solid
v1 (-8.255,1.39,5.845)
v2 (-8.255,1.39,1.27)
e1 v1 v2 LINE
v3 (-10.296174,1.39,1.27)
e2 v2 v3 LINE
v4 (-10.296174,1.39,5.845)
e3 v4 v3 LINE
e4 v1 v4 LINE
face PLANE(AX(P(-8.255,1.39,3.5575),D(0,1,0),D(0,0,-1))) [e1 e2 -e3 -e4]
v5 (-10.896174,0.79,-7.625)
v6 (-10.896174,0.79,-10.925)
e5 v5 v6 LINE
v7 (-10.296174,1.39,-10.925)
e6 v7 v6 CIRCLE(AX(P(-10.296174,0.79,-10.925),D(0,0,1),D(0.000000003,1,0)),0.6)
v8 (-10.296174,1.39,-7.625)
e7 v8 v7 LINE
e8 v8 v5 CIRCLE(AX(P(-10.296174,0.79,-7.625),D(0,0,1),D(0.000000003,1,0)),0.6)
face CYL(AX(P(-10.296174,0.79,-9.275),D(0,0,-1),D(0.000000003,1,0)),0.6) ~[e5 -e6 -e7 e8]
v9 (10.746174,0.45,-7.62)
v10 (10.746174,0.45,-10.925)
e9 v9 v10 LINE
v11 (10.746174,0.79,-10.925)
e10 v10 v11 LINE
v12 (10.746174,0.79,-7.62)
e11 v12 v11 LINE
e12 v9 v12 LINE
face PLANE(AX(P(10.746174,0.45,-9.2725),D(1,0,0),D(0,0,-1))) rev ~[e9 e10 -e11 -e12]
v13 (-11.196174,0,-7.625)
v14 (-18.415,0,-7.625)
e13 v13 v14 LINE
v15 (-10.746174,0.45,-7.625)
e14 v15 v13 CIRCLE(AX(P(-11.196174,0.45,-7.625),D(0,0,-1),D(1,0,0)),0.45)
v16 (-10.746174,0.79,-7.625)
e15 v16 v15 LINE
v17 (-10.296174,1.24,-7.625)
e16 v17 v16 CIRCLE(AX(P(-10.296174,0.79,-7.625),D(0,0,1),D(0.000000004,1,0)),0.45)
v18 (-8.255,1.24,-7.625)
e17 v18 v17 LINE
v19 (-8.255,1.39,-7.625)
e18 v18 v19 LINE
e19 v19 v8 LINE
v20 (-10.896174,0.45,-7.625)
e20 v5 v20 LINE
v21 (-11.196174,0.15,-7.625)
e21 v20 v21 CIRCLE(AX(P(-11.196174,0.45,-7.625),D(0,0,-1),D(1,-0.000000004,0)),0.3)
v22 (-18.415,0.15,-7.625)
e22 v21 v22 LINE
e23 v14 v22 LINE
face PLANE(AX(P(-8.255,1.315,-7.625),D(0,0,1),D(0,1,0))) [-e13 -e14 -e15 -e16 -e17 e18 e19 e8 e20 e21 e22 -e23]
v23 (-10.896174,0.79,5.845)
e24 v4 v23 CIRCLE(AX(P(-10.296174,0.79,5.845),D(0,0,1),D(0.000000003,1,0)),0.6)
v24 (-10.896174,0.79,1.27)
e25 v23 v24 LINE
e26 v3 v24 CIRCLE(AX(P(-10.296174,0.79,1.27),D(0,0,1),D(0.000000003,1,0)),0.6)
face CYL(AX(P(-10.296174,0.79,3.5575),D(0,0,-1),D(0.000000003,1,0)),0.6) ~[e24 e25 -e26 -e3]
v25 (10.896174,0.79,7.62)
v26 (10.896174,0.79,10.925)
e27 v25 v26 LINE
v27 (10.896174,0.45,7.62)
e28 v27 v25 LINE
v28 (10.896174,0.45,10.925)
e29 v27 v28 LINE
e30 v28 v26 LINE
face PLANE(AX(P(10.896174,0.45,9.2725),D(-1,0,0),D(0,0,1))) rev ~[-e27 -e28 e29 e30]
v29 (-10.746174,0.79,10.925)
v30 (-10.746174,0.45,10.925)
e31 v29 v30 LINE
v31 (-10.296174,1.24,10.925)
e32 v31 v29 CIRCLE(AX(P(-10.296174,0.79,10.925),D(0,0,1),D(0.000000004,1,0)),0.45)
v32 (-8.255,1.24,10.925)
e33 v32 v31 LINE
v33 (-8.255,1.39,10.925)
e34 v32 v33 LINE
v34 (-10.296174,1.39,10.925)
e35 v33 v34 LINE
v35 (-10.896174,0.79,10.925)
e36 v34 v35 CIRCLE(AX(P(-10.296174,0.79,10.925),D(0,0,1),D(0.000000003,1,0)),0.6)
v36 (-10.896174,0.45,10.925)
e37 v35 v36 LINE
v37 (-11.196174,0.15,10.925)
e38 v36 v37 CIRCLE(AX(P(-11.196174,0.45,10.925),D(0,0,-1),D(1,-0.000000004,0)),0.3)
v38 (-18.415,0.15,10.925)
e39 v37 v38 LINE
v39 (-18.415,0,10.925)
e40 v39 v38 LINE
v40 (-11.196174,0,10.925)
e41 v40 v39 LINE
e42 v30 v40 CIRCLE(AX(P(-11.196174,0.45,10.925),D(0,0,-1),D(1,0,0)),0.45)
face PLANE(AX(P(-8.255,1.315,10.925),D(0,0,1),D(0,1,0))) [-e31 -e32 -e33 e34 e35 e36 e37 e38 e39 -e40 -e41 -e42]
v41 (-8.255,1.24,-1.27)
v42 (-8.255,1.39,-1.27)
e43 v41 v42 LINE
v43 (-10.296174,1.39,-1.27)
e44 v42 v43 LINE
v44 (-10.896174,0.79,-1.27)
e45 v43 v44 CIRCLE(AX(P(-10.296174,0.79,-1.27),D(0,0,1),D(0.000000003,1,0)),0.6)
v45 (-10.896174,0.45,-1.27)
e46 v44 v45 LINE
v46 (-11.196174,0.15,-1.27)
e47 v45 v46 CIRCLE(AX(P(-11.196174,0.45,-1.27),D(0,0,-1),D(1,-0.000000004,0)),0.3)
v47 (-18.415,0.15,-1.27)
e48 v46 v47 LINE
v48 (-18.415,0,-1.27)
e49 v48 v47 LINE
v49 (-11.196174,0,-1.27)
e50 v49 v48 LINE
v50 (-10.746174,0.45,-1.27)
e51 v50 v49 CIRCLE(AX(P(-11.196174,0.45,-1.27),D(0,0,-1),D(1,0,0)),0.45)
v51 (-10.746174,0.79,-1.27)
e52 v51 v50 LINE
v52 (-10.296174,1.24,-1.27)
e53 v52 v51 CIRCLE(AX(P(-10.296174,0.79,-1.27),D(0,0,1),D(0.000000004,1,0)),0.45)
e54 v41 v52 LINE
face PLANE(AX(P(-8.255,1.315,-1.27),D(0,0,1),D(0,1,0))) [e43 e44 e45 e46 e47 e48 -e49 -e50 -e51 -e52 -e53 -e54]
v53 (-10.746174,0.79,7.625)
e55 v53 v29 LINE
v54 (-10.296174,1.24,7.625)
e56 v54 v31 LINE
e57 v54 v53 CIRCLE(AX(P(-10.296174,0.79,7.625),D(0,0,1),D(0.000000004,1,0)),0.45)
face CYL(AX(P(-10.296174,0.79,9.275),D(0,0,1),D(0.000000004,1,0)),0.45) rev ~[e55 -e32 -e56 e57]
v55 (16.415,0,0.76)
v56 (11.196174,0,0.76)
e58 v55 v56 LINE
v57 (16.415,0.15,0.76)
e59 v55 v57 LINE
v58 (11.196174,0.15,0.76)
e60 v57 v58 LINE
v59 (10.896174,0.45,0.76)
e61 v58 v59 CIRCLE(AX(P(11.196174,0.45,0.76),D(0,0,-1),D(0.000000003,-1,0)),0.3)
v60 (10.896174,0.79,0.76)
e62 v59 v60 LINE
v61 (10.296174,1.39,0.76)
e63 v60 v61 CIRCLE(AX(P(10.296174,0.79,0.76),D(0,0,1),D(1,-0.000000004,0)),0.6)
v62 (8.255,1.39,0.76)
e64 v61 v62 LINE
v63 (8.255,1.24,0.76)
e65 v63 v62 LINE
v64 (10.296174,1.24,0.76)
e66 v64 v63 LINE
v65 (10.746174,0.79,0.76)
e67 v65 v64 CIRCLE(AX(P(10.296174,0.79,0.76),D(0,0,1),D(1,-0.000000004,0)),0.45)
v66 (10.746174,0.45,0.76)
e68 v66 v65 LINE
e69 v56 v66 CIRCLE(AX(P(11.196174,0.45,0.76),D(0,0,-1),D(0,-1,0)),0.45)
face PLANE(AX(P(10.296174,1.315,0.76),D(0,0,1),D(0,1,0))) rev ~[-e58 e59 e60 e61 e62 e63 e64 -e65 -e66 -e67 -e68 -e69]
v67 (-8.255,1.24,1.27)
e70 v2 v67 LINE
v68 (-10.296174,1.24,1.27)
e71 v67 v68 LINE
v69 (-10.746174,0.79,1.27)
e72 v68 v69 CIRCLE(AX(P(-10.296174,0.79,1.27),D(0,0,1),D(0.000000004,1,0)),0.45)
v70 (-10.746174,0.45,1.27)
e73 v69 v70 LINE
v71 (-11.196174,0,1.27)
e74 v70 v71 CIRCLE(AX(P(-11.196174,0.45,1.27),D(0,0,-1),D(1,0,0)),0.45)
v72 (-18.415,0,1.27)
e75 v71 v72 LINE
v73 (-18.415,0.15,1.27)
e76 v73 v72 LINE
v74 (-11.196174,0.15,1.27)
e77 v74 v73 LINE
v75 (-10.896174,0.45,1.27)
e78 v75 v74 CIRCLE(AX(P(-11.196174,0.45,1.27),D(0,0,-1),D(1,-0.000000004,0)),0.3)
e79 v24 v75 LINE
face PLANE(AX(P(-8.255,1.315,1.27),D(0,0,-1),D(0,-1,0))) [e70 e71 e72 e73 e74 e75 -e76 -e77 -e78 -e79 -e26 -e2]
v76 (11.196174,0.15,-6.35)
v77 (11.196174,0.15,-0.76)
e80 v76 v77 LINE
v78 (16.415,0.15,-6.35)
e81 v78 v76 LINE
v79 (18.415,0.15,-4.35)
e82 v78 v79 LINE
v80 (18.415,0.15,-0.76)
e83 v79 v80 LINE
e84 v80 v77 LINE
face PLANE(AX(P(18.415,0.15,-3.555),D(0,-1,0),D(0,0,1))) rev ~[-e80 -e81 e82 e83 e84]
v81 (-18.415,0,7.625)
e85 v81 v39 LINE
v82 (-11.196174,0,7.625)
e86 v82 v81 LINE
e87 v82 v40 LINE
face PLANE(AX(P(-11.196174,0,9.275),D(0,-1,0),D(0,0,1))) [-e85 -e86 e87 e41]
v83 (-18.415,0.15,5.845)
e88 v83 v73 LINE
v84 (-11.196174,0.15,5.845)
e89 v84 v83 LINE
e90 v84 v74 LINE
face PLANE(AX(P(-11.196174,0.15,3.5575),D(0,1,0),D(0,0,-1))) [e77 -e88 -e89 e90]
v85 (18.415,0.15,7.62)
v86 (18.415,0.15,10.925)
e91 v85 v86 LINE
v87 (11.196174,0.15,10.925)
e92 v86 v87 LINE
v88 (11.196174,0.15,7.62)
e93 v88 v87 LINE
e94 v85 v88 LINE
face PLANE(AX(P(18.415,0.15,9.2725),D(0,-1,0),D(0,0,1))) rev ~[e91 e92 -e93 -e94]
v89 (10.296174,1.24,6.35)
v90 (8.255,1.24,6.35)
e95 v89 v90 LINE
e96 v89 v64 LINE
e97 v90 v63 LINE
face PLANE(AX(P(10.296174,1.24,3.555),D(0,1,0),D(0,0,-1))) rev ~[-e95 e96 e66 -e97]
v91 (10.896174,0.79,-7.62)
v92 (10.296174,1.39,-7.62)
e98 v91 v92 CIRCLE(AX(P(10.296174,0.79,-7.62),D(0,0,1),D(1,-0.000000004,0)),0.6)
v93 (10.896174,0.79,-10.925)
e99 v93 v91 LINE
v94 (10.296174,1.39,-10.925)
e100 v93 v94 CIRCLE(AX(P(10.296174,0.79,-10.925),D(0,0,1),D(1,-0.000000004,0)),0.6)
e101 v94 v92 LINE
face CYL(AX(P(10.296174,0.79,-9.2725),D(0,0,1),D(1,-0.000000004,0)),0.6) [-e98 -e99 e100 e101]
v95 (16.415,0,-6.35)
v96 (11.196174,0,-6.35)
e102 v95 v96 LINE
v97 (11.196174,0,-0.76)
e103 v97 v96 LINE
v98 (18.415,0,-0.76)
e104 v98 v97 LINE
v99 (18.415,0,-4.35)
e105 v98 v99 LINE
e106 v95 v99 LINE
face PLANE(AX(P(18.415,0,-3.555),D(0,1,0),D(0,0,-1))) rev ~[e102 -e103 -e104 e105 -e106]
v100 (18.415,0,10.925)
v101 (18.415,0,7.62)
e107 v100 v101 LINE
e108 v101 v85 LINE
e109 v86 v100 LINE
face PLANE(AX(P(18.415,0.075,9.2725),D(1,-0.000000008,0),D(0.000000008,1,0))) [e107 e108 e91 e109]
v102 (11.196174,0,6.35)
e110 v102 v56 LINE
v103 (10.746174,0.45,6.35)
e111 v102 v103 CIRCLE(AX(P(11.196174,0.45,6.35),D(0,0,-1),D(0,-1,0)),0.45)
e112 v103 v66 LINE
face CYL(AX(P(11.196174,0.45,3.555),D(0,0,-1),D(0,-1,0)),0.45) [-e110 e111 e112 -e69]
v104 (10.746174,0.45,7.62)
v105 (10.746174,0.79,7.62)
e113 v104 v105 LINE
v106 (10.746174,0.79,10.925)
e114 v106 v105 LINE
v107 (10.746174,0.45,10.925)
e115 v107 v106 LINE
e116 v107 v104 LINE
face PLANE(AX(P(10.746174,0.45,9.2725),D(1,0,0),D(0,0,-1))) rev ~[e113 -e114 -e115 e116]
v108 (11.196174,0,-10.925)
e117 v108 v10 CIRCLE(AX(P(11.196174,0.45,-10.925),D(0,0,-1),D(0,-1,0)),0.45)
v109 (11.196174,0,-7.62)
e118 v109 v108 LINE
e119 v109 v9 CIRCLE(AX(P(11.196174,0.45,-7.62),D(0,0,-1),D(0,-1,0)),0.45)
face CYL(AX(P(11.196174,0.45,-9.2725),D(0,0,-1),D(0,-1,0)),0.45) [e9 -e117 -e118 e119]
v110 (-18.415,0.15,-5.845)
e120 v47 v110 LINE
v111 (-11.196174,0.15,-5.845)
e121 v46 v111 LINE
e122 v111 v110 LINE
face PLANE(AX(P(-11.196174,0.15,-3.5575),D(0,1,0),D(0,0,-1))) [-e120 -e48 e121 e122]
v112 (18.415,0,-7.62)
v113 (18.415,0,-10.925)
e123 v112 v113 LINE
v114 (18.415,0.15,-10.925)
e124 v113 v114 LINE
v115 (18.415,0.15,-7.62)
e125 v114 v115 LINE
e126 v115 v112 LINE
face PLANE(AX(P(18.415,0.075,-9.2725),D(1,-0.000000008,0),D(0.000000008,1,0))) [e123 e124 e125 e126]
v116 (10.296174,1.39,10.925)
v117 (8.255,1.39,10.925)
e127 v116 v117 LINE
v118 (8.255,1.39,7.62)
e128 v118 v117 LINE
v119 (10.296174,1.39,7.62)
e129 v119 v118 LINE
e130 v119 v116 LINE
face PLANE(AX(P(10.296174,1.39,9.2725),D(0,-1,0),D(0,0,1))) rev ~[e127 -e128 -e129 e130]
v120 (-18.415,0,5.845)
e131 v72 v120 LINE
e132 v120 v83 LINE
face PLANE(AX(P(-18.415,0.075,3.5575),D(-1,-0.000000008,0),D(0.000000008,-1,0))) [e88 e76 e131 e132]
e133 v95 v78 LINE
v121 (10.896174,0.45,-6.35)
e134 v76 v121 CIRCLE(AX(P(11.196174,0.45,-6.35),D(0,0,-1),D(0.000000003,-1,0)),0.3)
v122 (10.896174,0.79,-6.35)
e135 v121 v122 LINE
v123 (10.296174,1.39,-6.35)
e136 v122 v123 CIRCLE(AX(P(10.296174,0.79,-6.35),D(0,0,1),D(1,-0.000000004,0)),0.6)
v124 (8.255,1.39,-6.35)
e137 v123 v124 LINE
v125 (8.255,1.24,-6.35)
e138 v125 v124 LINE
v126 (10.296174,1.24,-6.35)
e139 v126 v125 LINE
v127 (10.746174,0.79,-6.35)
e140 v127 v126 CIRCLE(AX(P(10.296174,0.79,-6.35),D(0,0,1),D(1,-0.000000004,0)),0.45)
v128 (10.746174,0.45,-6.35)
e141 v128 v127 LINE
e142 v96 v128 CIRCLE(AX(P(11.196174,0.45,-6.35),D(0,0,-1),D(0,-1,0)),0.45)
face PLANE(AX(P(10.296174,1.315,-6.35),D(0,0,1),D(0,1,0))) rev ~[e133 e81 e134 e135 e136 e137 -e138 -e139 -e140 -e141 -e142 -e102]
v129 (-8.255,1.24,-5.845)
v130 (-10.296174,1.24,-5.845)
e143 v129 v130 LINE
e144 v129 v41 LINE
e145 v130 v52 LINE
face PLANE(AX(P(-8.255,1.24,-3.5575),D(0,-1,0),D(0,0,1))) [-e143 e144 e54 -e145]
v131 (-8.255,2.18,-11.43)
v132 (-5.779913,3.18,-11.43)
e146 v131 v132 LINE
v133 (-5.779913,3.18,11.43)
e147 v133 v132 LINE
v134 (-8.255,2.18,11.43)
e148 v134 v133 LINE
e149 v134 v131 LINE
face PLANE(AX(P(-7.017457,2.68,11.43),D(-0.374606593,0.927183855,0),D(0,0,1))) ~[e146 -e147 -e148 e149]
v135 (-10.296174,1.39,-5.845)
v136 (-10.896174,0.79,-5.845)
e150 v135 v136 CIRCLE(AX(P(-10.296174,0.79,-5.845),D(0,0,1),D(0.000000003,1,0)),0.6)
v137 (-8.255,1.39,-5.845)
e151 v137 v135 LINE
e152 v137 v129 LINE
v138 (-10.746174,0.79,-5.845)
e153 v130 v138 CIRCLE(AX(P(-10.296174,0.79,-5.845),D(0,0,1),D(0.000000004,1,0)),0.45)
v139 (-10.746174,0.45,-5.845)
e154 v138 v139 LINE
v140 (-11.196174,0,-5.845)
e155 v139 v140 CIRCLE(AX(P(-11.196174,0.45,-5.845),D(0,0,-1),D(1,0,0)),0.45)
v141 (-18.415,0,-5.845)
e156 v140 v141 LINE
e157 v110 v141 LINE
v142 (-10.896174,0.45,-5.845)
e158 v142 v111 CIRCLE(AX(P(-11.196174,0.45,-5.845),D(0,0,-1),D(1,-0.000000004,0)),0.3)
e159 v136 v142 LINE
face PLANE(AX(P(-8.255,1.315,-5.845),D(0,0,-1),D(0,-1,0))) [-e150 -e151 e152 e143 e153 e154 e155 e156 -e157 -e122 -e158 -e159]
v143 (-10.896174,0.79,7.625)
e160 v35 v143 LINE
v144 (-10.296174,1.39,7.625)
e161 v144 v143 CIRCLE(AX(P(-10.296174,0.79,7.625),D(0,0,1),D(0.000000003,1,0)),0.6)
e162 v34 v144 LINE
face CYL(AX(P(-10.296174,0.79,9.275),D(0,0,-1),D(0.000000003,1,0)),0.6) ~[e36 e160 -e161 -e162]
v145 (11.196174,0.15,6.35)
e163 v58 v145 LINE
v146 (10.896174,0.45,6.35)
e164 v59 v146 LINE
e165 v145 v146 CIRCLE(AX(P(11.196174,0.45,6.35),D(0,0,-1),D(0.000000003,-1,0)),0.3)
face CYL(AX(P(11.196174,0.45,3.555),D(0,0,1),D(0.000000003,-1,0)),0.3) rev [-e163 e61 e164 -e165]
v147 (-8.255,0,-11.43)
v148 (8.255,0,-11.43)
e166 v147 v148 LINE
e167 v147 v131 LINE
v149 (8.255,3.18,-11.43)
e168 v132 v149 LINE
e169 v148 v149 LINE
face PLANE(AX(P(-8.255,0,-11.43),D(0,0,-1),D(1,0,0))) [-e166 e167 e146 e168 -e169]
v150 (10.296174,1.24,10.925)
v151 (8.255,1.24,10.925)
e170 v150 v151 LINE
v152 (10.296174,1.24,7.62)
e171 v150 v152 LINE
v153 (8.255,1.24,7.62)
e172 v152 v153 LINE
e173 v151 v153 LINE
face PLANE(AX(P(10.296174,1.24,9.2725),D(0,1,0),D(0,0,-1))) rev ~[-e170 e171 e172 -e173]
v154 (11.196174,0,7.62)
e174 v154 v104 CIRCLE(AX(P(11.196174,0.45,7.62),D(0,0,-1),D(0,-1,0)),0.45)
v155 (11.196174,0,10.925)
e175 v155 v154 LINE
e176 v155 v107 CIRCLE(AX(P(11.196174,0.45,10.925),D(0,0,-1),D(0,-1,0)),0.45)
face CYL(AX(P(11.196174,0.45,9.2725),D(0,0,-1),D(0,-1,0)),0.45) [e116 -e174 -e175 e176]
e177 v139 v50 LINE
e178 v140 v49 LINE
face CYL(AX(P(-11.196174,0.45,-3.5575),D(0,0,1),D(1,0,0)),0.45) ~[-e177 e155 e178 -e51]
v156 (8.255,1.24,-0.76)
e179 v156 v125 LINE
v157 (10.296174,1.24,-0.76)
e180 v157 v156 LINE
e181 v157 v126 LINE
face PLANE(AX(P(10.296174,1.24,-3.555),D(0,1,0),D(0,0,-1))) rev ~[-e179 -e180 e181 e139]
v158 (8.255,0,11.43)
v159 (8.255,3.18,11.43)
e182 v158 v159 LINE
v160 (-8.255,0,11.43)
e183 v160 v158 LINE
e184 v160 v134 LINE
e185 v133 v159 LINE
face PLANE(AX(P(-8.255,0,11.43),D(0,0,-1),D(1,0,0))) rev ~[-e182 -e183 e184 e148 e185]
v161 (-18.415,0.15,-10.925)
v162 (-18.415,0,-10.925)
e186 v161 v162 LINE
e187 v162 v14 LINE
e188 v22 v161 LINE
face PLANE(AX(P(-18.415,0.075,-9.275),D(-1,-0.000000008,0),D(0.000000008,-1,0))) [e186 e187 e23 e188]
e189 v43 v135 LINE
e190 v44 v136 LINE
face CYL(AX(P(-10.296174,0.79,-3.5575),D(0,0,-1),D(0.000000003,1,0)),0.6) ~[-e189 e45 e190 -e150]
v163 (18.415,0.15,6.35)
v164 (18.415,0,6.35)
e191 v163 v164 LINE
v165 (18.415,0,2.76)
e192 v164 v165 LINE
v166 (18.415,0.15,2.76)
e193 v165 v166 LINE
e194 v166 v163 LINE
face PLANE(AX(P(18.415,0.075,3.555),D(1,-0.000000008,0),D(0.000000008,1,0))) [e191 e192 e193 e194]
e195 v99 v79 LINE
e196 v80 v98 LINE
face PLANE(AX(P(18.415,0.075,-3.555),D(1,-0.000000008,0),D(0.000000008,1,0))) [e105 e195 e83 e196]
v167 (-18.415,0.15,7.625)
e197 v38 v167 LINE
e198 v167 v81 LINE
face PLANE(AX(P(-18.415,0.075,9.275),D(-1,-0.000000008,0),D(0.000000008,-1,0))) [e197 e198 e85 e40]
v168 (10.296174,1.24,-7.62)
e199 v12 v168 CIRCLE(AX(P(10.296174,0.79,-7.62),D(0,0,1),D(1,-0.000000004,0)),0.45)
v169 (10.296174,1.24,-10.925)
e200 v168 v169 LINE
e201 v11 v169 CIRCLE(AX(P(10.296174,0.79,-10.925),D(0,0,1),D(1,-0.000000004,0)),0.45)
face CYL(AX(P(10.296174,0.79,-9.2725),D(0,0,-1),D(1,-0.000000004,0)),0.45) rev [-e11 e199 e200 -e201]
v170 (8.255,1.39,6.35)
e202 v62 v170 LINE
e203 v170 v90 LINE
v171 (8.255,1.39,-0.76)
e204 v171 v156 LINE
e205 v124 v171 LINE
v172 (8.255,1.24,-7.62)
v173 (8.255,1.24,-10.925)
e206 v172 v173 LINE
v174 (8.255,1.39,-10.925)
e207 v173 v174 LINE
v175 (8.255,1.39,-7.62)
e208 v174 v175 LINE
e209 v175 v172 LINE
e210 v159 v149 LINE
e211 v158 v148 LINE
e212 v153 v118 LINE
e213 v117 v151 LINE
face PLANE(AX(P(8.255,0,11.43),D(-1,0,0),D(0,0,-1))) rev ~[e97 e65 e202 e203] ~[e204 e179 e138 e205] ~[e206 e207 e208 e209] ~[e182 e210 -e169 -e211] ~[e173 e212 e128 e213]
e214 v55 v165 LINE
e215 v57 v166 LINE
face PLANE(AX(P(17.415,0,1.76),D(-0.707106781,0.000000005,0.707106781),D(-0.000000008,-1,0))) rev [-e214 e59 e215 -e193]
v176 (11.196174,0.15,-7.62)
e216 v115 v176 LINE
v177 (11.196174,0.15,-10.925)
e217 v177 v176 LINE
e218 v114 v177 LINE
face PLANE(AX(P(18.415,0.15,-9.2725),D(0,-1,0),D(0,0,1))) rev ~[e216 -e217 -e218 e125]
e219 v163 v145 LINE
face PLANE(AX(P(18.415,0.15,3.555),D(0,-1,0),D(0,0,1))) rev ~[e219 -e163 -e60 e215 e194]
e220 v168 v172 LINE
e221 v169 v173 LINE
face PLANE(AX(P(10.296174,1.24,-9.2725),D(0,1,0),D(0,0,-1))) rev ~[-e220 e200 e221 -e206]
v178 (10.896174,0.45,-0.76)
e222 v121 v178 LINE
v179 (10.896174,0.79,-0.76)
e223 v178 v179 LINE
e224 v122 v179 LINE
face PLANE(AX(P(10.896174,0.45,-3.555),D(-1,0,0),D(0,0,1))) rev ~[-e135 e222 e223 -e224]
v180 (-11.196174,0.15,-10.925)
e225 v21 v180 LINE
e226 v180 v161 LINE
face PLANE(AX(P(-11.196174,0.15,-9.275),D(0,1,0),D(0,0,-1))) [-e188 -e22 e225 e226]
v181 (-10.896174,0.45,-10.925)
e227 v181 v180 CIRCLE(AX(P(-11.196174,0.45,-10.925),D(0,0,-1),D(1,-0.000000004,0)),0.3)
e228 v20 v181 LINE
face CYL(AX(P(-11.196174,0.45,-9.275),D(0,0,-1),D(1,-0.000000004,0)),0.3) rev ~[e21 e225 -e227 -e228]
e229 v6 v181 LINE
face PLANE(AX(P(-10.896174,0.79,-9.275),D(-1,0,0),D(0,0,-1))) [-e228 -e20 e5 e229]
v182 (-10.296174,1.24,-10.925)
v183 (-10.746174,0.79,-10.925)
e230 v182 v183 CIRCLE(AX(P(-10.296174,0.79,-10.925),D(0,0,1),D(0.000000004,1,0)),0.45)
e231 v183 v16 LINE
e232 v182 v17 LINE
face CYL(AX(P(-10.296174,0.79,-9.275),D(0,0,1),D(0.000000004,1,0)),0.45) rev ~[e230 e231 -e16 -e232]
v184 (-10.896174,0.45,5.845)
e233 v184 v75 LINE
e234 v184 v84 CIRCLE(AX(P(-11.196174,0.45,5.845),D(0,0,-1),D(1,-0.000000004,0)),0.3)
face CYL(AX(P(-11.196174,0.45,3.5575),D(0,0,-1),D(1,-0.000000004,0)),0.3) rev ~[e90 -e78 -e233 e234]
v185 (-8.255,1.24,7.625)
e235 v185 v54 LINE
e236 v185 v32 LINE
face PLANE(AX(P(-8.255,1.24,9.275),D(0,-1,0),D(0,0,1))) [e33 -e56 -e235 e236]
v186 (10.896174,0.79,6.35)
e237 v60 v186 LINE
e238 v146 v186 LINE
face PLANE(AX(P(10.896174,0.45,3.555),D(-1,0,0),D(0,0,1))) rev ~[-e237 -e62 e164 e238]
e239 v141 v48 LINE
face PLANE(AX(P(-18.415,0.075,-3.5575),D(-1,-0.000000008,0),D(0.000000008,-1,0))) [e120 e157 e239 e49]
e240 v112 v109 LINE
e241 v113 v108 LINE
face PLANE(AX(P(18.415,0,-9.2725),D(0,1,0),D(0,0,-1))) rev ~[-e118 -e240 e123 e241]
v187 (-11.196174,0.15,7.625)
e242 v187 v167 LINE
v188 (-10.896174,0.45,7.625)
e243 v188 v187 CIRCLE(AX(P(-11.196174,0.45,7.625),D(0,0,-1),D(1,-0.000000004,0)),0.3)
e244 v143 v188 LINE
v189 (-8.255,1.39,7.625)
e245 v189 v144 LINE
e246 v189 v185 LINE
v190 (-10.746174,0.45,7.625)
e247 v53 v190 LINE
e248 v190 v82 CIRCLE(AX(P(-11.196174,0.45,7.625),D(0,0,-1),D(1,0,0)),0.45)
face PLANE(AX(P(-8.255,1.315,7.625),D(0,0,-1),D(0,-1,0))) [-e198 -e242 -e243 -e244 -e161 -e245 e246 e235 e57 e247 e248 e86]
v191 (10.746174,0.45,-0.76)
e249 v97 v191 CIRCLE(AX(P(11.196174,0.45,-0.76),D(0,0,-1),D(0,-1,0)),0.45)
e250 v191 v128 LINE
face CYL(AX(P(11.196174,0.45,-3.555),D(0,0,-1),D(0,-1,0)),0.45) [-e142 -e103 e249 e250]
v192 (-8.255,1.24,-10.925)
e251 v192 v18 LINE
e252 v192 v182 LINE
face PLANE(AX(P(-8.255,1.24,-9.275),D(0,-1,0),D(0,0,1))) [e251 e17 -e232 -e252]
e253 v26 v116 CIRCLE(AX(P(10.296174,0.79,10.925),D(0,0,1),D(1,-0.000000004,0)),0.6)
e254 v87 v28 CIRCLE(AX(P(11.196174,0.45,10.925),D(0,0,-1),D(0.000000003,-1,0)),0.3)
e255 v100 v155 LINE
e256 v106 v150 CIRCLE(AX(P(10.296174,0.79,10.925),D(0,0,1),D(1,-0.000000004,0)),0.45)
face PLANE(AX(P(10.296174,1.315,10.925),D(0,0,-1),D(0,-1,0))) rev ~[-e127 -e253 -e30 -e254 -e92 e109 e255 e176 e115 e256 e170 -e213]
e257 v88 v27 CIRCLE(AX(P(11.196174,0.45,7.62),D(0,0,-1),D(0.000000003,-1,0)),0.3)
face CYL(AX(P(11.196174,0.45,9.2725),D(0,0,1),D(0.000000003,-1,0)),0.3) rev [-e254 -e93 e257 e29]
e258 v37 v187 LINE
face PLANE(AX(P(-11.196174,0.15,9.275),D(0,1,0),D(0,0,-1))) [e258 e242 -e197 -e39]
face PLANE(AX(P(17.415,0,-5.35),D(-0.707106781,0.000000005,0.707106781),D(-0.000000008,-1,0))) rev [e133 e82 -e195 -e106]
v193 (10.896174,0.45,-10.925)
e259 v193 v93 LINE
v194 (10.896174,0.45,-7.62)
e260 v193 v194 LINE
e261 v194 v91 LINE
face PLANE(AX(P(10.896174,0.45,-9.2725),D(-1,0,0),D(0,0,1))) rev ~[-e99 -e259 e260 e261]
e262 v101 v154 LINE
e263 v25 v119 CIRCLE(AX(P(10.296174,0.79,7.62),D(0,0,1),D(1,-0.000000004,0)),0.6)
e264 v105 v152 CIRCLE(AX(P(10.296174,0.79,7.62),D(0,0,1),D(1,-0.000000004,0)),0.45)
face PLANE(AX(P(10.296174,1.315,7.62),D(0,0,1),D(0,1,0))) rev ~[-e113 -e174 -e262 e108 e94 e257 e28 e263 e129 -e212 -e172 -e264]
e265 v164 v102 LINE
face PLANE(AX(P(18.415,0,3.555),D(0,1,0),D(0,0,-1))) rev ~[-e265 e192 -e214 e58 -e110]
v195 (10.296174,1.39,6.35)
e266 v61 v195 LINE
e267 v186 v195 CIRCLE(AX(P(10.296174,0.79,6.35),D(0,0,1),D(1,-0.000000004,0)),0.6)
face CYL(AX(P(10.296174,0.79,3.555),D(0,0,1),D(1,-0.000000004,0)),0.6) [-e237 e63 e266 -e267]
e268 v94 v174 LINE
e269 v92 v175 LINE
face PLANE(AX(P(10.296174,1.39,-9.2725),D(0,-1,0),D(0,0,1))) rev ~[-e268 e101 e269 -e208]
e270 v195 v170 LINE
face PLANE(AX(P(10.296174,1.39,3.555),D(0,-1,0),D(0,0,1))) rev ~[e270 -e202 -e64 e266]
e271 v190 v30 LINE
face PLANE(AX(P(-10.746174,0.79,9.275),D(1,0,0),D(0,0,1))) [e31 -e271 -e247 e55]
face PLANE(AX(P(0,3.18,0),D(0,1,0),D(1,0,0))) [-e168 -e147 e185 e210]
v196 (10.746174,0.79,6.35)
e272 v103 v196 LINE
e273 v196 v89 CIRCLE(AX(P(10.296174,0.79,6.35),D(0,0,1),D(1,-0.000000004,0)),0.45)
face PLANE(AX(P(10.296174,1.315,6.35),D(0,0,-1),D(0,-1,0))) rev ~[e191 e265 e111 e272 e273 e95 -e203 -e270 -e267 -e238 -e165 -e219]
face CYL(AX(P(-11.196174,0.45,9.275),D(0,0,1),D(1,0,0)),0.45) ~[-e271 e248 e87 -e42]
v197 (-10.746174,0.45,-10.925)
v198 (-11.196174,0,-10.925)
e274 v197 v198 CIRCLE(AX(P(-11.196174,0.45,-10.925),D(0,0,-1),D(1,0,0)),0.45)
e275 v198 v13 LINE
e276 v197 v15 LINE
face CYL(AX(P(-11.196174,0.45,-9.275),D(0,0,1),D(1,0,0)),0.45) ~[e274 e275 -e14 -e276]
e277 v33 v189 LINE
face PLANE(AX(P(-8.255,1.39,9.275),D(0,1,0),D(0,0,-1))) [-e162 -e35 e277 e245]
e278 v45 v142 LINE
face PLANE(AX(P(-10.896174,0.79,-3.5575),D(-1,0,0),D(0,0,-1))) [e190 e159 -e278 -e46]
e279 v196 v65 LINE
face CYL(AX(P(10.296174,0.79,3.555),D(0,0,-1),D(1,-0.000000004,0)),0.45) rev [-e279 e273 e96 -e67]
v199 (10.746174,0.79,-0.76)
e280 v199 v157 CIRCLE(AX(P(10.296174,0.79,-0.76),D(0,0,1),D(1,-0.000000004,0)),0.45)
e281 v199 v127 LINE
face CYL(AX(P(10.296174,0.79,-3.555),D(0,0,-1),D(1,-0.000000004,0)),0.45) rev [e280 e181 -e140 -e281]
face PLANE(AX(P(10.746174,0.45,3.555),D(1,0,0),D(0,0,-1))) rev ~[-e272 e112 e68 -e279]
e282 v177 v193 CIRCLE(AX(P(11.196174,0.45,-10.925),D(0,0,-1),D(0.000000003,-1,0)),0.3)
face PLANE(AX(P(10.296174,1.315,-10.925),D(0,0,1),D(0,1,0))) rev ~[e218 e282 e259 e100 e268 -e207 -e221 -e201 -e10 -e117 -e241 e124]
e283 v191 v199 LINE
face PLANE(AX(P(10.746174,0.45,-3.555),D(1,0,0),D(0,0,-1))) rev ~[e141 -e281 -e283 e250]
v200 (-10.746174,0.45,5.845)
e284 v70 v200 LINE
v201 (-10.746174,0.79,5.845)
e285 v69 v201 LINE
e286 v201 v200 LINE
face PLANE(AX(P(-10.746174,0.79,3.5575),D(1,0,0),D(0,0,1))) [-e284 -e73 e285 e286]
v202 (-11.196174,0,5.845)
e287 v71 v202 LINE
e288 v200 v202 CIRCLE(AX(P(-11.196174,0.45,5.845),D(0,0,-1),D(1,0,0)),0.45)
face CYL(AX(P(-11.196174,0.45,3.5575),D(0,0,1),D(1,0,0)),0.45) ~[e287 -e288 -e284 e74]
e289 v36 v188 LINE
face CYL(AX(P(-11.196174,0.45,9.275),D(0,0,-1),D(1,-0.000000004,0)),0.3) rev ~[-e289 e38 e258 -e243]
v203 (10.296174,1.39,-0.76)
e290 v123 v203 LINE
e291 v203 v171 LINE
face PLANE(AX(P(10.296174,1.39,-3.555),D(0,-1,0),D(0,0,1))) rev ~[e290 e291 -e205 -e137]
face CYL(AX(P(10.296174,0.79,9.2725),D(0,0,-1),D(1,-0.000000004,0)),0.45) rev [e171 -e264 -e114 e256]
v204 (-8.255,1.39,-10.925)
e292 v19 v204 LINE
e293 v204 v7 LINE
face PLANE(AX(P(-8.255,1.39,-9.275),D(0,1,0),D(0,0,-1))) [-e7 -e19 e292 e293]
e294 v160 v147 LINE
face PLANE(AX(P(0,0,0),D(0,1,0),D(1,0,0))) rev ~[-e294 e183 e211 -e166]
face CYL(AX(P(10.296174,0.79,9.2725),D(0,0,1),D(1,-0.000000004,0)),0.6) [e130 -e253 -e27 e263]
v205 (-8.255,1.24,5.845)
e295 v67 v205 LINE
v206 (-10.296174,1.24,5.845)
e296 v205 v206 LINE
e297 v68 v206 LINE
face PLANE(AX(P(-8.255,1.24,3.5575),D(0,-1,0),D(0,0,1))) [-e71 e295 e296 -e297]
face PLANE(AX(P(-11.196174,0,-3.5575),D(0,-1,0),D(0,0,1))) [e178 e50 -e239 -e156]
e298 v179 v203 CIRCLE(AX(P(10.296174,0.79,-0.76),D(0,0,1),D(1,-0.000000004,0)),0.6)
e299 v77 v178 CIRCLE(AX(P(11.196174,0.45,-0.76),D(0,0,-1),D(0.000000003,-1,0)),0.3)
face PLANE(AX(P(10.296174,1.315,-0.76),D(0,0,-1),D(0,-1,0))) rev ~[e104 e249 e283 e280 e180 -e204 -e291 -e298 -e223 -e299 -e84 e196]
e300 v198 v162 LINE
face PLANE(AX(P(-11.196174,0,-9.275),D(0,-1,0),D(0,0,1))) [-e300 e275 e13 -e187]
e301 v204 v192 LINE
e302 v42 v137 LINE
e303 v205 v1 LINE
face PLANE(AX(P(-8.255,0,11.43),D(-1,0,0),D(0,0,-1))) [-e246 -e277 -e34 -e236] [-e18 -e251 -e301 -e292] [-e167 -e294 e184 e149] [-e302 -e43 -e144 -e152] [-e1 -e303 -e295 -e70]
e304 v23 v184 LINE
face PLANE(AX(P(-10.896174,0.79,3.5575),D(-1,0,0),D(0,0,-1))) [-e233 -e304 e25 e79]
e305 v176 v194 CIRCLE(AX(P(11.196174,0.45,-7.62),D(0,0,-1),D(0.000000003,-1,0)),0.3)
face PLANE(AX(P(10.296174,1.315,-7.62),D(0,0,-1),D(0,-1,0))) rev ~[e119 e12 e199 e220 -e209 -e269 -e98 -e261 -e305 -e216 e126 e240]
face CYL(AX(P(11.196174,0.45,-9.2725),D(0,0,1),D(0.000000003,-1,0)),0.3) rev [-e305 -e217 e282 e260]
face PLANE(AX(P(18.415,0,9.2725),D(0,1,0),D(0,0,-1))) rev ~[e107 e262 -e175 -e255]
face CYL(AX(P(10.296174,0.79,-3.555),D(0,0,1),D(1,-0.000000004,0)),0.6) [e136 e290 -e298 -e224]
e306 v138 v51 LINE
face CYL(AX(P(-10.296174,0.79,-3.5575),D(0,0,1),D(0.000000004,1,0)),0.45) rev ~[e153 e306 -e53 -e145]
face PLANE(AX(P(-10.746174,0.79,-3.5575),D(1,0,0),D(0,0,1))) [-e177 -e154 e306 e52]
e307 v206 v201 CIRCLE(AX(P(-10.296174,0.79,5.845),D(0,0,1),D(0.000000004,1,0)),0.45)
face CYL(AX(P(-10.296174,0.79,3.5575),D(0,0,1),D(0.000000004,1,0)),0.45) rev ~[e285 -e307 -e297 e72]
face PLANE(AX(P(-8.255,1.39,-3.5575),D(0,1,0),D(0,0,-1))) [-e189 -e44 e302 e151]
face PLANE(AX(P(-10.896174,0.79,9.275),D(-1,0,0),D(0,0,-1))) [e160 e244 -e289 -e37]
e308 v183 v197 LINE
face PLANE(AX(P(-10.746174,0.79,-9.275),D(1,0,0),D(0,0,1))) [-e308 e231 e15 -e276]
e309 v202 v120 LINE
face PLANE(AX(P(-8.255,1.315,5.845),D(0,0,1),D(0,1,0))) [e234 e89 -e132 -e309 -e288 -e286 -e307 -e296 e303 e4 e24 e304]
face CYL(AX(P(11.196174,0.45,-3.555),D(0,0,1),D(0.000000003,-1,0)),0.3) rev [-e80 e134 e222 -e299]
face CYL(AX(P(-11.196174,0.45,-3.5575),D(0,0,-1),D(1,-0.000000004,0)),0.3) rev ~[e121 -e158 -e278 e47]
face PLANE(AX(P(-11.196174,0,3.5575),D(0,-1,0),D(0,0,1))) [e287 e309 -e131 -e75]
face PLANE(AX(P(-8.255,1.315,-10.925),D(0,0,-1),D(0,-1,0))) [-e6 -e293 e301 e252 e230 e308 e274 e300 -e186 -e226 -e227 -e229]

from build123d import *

# Parameters (mm, degrees)
SKETCH_1_W      = 16.51
SKETCH_1_H      = 22.86
EXTRUDE_1_DEPTH = 3.18
CHAMFER_1_SIZE  = 1
CHAMFER_1_SIZE2 = 2.475086853
SKETCH_2_W      = 3.305
SKETCH_2_H      = 0.15
SKETCH_2_W_2    = 5.59
SKETCH_4_W      = 3.3
SKETCH_4_H      = 0.15
SKETCH_4_W_2    = 4.575
CHAMFER_2_SIZE  = 2


with BuildPart() as part:
    # Эскиз1 → Бобышка-Вытянуть1 (new body)
    with BuildSketch(Plane(origin=(0, 0, 0), x_dir=(1, 0, 0), z_dir=(0, 1, 0))):
        Rectangle(SKETCH_1_W, SKETCH_1_H)
    extrude(amount=EXTRUDE_1_DEPTH)

    # Фаска1
    chamfer_1_edges = [part.edges().sort_by_distance(p)[0] for p in [
        (-8.255, 3.18, 0),
    ]]
    chamfer_1_side = [part.faces().sort_by_distance(p)[0] for p in [
        (-8.255, 1.59, 0),
    ]]
    chamfer(chamfer_1_edges, length=CHAMFER_1_SIZE, length2=CHAMFER_1_SIZE2, reference=chamfer_1_side[0])

    # По траектории1: sweep along a path in Эскиз3
    with BuildLine(Plane.XY) as sweep_1_path:
        Line((18.415, 0), (11.196173743, 0))
        ThreePointArc((11.196173743, 0), (10.877975692, 0.131801948), (10.746173743, 0.45))
        Line((10.746173743, 0.45), (10.746173743, 0.79))
        ThreePointArc((10.746173743, 0.79), (10.614371795, 1.108198052), (10.296173743, 1.24))
        Line((10.296173743, 1.24), (8.255, 1.24))
    # Эскиз2 → По траектории1 (sweep)
    with BuildSketch(Plane(origin=(8.255, 0, 0), x_dir=(0, 0, -1), z_dir=(1, 0, 0))):
        with Locations((-9.2725, 1.315)):
            Rectangle(SKETCH_2_W, SKETCH_2_H)
        with Locations((-3.555, 1.315)):
            Rectangle(SKETCH_2_W_2, SKETCH_2_H)
        with Locations((3.555, 1.315)):
            Rectangle(SKETCH_2_W_2, SKETCH_2_H)
        with Locations((9.2725, 1.315)):
            Rectangle(SKETCH_2_W, SKETCH_2_H)
    sweep(path=sweep_1_path.line)

    # По траектории2: sweep along a path in Эскиз5
    with BuildLine(Plane.XY) as sweep_2_path:
        Line((-8.255, 1.24), (-10.296173743, 1.24))
        ThreePointArc((-10.296173743, 1.24), (-10.614371795, 1.108198052), (-10.746173743, 0.79))
        Line((-10.746173743, 0.79), (-10.746173743, 0.45))
        ThreePointArc((-10.746173743, 0.45), (-10.877975692, 0.131801948), (-11.196173743, 0))
        Line((-11.196173743, 0), (-18.415, 0))
    # Эскиз4 → По траектории2 (sweep)
    with BuildSketch(Plane.ZY.offset(8.255)):
        with Locations((-9.275, 1.315)):
            Rectangle(SKETCH_4_W, SKETCH_4_H)
        with Locations((-3.5575, 1.315)):
            Rectangle(SKETCH_4_W_2, SKETCH_4_H)
        with Locations((3.5575, 1.315)):
            Rectangle(SKETCH_4_W_2, SKETCH_4_H)
        with Locations((9.275, 1.315)):
            Rectangle(SKETCH_4_W, SKETCH_4_H)
    sweep(path=sweep_2_path.line)

    # Фаска2
    chamfer_2_edges = [part.edges().sort_by_distance(p)[0] for p in [
        (18.415, 0.075, 0.76),
        (18.415, 0.075, -6.35),
    ]]
    chamfer(chamfer_2_edges, length=CHAMFER_2_SIZE)


solid = part.part
